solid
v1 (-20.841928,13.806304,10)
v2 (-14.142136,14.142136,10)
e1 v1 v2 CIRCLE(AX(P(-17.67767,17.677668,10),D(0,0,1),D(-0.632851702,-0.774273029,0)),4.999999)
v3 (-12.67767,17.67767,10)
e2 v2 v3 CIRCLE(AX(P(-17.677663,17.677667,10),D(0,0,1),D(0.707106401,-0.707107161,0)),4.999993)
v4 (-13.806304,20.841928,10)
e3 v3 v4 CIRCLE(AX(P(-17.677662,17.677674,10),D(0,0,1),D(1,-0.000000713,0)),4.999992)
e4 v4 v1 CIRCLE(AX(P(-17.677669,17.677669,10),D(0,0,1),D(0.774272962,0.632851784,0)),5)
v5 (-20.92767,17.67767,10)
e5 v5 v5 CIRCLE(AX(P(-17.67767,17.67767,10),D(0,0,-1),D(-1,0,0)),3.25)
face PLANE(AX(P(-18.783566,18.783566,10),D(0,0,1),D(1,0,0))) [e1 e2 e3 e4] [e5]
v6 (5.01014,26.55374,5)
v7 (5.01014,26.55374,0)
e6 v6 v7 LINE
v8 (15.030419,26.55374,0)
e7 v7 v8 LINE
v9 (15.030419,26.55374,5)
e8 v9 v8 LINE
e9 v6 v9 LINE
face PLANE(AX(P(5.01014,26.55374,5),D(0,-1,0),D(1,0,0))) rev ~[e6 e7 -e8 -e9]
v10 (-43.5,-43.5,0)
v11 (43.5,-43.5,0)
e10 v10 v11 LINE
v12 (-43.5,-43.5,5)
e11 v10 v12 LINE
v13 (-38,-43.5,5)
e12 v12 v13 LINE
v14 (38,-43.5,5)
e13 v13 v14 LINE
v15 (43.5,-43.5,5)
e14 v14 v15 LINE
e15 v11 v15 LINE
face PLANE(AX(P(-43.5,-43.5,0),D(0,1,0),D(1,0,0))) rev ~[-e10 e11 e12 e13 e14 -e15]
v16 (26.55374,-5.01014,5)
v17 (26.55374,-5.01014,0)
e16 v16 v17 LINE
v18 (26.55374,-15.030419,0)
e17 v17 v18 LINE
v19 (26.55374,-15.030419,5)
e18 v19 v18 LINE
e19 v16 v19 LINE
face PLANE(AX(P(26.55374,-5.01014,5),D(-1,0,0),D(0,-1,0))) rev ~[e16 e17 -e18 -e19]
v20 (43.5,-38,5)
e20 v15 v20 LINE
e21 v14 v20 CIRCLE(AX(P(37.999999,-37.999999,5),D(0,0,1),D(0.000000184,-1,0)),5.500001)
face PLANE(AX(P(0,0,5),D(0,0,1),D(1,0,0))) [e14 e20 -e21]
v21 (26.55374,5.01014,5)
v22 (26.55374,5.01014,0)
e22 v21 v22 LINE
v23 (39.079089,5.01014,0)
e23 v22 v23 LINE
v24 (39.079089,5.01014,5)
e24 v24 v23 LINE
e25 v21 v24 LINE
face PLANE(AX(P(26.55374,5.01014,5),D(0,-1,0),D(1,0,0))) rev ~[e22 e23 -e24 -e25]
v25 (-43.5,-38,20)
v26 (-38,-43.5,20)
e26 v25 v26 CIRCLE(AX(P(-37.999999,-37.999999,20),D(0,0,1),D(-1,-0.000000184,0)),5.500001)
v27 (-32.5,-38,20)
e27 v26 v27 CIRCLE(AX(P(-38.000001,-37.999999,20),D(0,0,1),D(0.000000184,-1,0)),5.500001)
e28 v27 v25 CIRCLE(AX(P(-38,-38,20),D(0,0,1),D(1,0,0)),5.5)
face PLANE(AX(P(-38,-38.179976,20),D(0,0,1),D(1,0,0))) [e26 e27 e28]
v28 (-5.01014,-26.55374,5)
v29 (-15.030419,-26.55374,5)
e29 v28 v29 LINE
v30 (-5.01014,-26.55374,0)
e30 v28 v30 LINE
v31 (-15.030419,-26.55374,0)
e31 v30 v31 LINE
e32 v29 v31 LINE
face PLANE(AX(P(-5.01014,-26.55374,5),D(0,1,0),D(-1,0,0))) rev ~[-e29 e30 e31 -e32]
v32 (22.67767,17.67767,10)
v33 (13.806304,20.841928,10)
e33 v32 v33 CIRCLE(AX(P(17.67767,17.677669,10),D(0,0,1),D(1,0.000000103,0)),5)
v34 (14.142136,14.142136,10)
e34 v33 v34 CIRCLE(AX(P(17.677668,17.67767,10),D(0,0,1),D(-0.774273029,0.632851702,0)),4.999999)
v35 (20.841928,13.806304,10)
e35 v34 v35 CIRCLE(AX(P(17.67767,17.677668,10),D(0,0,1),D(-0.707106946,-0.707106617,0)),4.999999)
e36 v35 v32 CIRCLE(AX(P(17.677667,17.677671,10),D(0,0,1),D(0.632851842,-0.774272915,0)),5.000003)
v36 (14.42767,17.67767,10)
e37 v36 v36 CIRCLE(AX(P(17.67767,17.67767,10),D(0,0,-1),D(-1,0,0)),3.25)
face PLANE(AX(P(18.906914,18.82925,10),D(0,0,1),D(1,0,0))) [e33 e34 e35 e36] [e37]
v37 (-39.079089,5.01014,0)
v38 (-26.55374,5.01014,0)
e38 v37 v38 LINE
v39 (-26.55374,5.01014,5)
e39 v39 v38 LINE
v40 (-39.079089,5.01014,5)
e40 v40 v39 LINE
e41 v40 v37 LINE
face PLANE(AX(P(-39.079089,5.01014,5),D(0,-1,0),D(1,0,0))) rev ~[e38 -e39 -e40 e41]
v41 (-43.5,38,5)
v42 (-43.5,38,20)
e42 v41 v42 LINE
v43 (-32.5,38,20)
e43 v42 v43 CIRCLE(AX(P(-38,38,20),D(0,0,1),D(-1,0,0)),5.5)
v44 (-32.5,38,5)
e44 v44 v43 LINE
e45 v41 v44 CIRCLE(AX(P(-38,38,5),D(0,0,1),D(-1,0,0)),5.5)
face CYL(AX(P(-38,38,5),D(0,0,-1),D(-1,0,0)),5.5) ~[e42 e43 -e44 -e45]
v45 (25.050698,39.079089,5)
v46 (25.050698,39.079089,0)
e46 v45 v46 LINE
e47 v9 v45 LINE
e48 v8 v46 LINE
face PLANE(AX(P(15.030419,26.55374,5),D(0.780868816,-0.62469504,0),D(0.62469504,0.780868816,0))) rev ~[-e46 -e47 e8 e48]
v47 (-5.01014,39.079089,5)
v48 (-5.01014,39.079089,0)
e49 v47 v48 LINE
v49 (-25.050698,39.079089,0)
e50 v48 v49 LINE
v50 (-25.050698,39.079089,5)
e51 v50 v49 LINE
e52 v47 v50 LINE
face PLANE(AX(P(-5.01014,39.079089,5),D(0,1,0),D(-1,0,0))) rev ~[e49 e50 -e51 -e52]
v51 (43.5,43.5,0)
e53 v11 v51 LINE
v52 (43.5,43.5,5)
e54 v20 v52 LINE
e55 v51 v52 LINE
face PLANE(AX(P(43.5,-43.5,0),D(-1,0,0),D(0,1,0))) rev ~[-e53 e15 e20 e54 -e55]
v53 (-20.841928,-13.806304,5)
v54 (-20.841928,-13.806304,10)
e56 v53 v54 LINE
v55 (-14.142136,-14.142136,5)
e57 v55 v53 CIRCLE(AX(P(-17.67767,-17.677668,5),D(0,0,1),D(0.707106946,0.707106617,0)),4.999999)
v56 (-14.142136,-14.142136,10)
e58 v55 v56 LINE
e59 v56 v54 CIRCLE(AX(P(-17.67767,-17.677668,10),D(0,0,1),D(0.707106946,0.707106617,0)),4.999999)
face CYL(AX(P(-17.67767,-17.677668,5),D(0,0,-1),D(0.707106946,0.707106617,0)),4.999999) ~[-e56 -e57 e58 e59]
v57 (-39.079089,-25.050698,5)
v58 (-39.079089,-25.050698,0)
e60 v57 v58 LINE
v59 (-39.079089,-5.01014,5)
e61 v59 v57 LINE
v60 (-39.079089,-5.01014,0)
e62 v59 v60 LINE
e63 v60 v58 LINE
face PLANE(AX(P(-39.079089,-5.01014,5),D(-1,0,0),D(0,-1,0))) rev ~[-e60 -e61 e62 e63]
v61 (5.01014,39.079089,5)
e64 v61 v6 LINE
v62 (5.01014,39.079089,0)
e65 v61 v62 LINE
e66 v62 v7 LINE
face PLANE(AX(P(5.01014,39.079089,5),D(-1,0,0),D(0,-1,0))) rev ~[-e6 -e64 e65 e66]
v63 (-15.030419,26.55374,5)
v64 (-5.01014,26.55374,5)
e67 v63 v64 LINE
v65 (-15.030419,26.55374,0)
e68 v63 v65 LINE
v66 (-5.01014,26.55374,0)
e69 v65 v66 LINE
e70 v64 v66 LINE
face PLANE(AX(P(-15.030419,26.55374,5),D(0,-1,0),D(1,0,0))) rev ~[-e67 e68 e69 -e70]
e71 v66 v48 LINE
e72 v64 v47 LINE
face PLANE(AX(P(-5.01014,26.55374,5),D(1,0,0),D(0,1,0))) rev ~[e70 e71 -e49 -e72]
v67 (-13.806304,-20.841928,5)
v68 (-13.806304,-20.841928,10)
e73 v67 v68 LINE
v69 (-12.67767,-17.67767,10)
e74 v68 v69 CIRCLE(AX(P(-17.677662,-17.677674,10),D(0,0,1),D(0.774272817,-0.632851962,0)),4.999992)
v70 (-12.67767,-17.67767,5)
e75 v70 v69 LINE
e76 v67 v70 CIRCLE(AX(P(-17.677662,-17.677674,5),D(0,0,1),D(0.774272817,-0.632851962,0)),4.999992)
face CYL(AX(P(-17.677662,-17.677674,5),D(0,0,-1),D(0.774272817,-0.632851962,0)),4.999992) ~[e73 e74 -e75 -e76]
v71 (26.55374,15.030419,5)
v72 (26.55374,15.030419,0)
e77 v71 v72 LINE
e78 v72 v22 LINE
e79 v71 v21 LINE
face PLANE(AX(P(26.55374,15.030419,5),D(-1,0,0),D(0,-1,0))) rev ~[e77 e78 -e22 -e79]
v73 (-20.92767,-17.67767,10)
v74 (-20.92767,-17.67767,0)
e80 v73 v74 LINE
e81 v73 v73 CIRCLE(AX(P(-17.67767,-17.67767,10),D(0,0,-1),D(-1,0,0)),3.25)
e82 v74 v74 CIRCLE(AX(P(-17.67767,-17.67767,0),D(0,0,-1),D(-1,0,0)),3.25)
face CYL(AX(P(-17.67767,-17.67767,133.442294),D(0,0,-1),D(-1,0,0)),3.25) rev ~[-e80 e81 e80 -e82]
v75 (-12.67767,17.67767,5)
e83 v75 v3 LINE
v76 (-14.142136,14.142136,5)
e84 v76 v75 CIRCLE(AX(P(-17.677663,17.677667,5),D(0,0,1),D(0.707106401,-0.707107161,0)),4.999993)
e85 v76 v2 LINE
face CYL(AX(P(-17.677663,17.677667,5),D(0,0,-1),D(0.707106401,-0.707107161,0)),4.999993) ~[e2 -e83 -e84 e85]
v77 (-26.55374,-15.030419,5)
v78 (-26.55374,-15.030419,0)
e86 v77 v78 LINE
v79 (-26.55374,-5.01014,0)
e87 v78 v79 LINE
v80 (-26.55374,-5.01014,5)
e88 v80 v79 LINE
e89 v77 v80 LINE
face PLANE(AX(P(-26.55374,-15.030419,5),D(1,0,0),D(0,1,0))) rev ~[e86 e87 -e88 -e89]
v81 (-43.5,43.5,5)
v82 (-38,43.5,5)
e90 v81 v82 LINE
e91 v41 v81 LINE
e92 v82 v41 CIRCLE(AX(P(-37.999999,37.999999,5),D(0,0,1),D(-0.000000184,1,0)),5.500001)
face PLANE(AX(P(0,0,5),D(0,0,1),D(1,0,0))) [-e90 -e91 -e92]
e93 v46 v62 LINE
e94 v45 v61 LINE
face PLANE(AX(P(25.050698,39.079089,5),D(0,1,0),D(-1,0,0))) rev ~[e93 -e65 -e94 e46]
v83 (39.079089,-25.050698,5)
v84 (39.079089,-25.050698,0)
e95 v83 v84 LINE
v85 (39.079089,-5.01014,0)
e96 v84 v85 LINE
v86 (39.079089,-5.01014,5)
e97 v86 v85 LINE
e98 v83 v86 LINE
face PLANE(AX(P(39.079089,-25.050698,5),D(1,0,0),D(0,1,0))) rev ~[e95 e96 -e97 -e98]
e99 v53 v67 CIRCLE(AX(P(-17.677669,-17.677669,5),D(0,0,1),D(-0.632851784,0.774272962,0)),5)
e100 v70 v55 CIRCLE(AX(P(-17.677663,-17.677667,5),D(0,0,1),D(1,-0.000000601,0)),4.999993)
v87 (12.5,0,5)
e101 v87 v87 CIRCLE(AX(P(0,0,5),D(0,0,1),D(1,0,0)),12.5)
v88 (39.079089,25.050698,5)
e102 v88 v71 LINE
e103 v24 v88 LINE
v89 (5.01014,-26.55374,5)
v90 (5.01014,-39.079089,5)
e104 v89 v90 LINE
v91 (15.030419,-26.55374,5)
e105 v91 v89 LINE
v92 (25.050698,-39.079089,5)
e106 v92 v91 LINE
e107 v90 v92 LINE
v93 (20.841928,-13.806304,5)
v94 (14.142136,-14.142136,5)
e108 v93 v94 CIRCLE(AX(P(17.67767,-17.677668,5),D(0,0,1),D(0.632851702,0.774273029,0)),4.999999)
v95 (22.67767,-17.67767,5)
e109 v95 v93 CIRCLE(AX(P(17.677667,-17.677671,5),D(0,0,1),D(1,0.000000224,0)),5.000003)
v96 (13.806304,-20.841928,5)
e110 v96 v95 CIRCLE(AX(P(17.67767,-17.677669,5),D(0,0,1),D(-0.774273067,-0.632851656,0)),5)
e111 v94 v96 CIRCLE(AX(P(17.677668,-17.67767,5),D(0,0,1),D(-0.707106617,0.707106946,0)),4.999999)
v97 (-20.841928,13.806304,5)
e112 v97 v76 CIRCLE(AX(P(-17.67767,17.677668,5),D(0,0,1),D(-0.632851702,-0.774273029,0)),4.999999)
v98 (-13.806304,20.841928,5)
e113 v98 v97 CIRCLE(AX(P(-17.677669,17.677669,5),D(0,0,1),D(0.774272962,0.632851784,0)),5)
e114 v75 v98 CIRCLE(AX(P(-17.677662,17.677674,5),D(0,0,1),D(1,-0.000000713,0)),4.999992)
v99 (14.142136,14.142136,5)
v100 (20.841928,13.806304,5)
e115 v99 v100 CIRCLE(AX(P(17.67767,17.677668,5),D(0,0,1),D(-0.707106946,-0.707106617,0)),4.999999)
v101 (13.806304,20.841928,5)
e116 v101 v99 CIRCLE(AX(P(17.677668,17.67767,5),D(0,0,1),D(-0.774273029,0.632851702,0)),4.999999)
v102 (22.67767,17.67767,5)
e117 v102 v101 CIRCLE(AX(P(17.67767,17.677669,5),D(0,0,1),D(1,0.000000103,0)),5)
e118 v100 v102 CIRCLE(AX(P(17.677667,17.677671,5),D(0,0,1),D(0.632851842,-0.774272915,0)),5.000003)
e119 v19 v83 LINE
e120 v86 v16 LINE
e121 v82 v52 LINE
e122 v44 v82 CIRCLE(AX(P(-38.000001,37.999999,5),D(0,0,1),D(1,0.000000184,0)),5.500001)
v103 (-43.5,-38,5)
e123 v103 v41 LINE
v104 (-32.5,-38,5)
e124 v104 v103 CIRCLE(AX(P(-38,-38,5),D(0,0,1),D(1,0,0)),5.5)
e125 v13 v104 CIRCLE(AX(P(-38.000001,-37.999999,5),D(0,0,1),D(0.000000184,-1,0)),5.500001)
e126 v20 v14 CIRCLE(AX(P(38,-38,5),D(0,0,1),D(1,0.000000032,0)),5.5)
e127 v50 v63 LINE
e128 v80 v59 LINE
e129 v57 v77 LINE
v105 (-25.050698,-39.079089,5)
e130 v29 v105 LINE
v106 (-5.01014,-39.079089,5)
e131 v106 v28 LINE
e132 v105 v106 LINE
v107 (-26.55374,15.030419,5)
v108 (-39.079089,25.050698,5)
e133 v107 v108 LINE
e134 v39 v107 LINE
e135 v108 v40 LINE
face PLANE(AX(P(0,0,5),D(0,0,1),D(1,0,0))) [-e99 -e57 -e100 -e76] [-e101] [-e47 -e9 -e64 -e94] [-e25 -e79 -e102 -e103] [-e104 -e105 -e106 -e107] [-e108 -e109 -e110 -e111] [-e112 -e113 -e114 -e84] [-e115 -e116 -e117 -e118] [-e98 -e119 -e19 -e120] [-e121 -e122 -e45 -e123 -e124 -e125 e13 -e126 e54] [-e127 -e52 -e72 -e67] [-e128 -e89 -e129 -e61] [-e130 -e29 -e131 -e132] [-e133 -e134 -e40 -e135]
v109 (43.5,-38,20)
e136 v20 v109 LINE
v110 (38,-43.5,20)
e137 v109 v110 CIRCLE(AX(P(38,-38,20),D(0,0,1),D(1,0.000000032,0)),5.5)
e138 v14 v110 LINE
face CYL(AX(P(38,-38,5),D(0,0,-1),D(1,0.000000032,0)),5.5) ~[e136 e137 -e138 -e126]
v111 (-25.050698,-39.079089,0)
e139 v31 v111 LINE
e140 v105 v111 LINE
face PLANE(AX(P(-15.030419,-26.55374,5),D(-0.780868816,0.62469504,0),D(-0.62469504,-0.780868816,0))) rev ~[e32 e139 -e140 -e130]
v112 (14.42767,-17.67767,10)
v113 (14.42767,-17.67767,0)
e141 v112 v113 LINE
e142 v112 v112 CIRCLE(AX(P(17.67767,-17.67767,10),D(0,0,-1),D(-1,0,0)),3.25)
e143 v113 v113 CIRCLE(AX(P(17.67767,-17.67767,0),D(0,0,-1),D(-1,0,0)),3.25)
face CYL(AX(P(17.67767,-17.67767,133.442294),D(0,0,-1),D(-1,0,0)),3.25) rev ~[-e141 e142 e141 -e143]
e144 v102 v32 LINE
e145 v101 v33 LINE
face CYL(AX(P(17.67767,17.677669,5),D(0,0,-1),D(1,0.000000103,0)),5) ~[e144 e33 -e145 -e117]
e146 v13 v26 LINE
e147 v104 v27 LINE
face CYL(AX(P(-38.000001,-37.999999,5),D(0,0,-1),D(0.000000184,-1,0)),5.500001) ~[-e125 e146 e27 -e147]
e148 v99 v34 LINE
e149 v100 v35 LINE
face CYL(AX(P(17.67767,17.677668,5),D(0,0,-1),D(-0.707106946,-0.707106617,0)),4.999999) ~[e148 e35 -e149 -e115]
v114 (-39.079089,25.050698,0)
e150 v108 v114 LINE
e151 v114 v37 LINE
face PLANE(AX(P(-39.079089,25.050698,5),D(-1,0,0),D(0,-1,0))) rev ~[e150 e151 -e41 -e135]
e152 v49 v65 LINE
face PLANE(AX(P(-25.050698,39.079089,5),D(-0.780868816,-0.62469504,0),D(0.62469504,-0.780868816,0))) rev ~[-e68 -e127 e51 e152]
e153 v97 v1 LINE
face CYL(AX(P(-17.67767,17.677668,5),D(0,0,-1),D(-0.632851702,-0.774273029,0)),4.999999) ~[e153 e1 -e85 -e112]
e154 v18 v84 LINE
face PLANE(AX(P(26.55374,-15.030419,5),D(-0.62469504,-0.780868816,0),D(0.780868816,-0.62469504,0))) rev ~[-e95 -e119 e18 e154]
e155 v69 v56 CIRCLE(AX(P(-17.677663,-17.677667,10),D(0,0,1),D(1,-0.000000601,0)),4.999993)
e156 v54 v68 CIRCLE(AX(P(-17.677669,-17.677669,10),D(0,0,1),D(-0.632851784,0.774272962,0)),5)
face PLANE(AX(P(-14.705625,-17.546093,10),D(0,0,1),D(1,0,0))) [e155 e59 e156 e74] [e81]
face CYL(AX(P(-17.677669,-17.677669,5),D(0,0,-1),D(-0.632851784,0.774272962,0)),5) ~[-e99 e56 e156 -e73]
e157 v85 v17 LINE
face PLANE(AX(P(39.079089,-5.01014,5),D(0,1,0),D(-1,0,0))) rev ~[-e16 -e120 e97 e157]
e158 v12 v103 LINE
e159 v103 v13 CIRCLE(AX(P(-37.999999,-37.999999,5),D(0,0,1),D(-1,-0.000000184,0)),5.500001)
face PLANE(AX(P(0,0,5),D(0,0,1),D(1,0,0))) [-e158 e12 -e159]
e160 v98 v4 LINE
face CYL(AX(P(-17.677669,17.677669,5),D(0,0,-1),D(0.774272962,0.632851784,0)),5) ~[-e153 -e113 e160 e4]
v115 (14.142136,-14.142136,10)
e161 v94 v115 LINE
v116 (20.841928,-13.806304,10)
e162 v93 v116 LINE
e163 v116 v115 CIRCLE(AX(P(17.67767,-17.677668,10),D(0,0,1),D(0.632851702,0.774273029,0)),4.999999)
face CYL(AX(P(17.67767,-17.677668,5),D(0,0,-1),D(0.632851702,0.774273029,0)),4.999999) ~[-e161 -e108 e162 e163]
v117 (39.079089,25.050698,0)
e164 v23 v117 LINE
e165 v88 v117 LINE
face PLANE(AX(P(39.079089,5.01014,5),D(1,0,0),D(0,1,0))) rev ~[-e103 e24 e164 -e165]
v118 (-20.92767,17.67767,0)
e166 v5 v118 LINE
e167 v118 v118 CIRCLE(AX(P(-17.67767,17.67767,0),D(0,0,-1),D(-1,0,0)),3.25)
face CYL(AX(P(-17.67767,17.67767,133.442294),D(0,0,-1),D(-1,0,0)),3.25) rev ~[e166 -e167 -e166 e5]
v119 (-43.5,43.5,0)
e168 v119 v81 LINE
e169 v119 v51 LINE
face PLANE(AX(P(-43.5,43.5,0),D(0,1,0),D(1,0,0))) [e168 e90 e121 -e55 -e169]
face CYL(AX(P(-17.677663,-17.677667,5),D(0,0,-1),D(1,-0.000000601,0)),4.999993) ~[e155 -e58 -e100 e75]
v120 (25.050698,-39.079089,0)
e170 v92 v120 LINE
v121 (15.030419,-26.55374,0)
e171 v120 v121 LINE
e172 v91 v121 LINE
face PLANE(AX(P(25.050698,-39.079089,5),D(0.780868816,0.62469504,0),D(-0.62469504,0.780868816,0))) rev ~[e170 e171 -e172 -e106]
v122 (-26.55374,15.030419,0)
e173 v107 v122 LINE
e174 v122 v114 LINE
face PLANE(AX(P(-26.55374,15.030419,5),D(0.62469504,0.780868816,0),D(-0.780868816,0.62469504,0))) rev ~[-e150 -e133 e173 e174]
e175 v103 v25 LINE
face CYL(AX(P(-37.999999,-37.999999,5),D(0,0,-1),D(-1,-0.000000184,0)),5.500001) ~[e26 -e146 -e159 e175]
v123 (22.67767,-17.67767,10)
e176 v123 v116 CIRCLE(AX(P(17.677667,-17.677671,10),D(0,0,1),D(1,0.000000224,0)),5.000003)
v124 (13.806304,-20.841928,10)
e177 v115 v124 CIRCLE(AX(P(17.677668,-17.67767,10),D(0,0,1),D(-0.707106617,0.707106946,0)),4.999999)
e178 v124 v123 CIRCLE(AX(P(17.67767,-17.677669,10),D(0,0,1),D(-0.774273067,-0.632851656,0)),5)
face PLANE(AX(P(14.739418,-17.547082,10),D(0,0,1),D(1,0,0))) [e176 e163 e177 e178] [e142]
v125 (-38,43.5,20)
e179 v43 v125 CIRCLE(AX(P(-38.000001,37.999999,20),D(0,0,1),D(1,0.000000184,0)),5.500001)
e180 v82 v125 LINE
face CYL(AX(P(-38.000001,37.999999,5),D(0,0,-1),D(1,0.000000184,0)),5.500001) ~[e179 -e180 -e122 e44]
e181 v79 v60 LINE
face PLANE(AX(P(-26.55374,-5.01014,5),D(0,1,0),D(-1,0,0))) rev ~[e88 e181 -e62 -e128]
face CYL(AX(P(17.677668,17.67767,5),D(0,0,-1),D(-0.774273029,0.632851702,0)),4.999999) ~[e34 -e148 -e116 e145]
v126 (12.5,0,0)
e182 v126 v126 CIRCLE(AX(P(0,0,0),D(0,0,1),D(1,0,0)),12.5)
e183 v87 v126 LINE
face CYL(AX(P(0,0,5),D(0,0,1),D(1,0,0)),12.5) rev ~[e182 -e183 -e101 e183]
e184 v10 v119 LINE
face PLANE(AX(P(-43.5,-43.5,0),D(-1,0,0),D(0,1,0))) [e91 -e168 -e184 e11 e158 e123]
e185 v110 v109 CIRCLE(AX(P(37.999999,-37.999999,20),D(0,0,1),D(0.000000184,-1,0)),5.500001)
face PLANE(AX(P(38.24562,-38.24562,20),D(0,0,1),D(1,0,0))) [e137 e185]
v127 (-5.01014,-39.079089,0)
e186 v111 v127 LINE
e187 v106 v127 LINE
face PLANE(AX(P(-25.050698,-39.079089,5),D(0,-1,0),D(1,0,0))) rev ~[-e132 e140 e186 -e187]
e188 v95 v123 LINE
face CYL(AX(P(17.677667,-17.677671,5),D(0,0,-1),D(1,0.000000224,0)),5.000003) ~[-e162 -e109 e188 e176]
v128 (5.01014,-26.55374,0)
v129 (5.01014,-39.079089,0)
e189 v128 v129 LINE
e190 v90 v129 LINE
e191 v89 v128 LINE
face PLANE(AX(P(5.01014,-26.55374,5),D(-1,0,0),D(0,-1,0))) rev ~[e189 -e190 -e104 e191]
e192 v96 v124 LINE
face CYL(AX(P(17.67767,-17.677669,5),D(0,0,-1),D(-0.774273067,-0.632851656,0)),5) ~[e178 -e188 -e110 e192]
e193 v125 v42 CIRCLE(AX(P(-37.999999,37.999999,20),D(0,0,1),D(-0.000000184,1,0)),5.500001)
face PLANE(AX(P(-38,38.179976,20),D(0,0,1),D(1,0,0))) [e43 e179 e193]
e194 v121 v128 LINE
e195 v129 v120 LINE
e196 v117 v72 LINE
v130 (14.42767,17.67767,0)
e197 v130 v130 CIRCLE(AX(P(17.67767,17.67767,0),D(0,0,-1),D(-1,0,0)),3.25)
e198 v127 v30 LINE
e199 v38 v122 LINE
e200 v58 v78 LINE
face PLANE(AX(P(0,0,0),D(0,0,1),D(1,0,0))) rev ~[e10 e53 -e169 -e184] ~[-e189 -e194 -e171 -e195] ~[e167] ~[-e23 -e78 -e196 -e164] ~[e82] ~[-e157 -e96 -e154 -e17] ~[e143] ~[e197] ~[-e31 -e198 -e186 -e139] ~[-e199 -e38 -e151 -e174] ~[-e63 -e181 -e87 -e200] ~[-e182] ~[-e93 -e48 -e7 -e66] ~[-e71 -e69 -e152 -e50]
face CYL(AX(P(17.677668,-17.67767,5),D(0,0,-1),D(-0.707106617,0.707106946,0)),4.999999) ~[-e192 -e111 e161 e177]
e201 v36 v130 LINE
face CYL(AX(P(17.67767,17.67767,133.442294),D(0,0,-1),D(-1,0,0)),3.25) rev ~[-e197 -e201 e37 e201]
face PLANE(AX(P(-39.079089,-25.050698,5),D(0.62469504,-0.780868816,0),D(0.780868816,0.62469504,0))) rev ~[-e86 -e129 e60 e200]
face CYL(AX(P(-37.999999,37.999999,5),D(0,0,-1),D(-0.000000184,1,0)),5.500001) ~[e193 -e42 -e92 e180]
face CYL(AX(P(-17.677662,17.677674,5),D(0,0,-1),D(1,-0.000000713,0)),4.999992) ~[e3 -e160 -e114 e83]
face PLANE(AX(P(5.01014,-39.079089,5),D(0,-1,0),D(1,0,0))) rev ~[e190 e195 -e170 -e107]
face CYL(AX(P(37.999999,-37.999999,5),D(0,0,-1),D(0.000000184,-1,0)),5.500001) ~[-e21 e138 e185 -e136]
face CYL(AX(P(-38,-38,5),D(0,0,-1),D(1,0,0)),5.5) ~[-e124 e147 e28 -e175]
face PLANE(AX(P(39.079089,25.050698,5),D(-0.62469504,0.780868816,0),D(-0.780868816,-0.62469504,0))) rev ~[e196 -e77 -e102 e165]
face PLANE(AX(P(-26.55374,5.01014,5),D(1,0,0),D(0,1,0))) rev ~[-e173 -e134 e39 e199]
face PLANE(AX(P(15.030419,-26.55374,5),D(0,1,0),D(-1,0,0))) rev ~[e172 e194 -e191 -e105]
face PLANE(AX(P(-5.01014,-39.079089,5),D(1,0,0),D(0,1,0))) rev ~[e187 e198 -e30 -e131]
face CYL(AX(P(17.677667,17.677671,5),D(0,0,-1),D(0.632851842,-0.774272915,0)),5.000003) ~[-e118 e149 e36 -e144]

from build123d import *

# Parameters (mm, degrees)
F0_W      = 87
F0_H      = 87
F1_DEPTH  = 5
F3_DEPTH  = 5
F6_D      = 6.5
F8_DEPTH  = 15
F9_R      = 12.5
F10_DEPTH = 5


with BuildPart() as f1:
    # F0 (on Top) → F1 (new body)
    with BuildSketch(Plane.XY):
        Rectangle(F0_W, F0_H)
    extrude(amount=F1_DEPTH)

    # F2 (on face) → F3 (join)
    with BuildSketch(Plane.XY.offset(5)):
        with BuildLine():
            ThreePointArc((-17.67767, 17.67767), (-15.821292, 19.356826), (-13.806304, 20.841928))
            ThreePointArc((-13.806304, 20.841928), (-21.213203, 21.213203), (-20.841928, 13.806304))
            ThreePointArc((-20.841928, 13.806304), (-19.356826, 15.821292), (-17.67767, 17.67767))
        make_face()
        with BuildLine():
            ThreePointArc((-20.841928, 13.806304), (-17.427356, 12.683939), (-14.142136, 14.142136))
            Line((-14.142136, 14.142136), (-17.67767, 17.67767))
            ThreePointArc((-17.67767, 17.67767), (-19.356826, 15.821292), (-20.841928, 13.806304))
        make_face()
        with BuildLine():
            ThreePointArc((-12.67767, 17.67767), (-12.968273, 19.357428), (-13.806304, 20.841928))
            ThreePointArc((-13.806304, 20.841928), (-15.821292, 19.356826), (-17.67767, 17.67767))
            Line((-17.67767, 17.67767), (-14.142136, 14.142136))
            ThreePointArc((-14.142136, 14.142136), (-13.058272, 15.764252), (-12.67767, 17.67767))
        make_face()
        with BuildLine():
            ThreePointArc((-12.67767, -17.67767), (-13.058272, -15.764252), (-14.142136, -14.142136))
            Line((-14.142136, -14.142136), (-17.67767, -17.67767))
            ThreePointArc((-17.67767, -17.67767), (-15.821292, -19.356826), (-13.806304, -20.841928))
            ThreePointArc((-13.806304, -20.841928), (-12.968273, -19.357428), (-12.67767, -17.67767))
        make_face()
        with BuildLine():
            Line((-17.67767, -17.67767), (-14.142136, -14.142136))
            ThreePointArc((-14.142136, -14.142136), (-17.427356, -12.683939), (-20.841928, -13.806304))
            ThreePointArc((-20.841928, -13.806304), (-19.356826, -15.821292), (-17.67767, -17.67767))
        make_face()
        with BuildLine():
            ThreePointArc((-20.841928, -13.806304), (-21.213203, -21.213203), (-13.806304, -20.841928))
            ThreePointArc((-13.806304, -20.841928), (-15.821292, -19.356826), (-17.67767, -17.67767))
            ThreePointArc((-17.67767, -17.67767), (-19.356826, -15.821292), (-20.841928, -13.806304))
        make_face()
        with BuildLine():
            ThreePointArc((13.806304, -20.841928), (15.821292, -19.356826), (17.67767, -17.67767))
            Line((17.67767, -17.67767), (14.142136, -14.142136))
            ThreePointArc((14.142136, -14.142136), (12.683939, -17.427356), (13.806304, -20.841928))
        make_face()
        with BuildLine():
            ThreePointArc((17.67767, -17.67767), (19.356826, -15.821292), (20.841928, -13.806304))
            ThreePointArc((20.841928, -13.806304), (17.427356, -12.683939), (14.142136, -14.142136))
            Line((14.142136, -14.142136), (17.67767, -17.67767))
        make_face()
        with BuildLine():
            ThreePointArc((22.67767, -17.67767), (22.195484, -15.535392), (20.841928, -13.806304))
            ThreePointArc((20.841928, -13.806304), (19.356826, -15.821292), (17.67767, -17.67767))
            ThreePointArc((17.67767, -17.67767), (15.821292, -19.356826), (13.806304, -20.841928))
            ThreePointArc((13.806304, -20.841928), (19.357428, -22.387066), (22.67767, -17.67767))
        make_face()
        with BuildLine():
            ThreePointArc((17.67767, 17.67767), (19.356826, 15.821292), (20.841928, 13.806304))
            ThreePointArc((20.841928, 13.806304), (22.195484, 15.535392), (22.67767, 17.67767))
            ThreePointArc((22.67767, 17.67767), (19.357428, 22.387066), (13.806304, 20.841928))
            ThreePointArc((13.806304, 20.841928), (15.821292, 19.356826), (17.67767, 17.67767))
        make_face()
        with BuildLine():
            ThreePointArc((14.142136, 14.142136), (17.427356, 12.683939), (20.841928, 13.806304))
            ThreePointArc((20.841928, 13.806304), (19.356826, 15.821292), (17.67767, 17.67767))
            Line((17.67767, 17.67767), (14.142136, 14.142136))
        make_face()
        with BuildLine():
            Line((14.142136, 14.142136), (17.67767, 17.67767))
            ThreePointArc((17.67767, 17.67767), (15.821292, 19.356826), (13.806304, 20.841928))
            ThreePointArc((13.806304, 20.841928), (12.683939, 17.427356), (14.142136, 14.142136))
        make_face()
    extrude(amount=F3_DEPTH)

    # F6 (through all)
    with Locations(Plane.XY.offset(10)):
        with Locations((-17.67767, 17.67767), (17.67767, 17.67767), (17.67767, -17.67767), (-17.67767, -17.67767)):
            Hole(F6_D / 2)

    # F7 (on face) → F8 (join)
    with BuildSketch(Plane.XY.offset(5)):
        with BuildLine():
            ThreePointArc((-43.5, 38), (-38, 32.5), (-32.5, 38))
            ThreePointArc((-32.5, 38), (-34.110913, 41.889087), (-38, 43.5))
            ThreePointArc((-38, 43.5), (-41.889087, 41.889087), (-43.5, 38))
        make_face()
        with BuildLine():
            ThreePointArc((-32.5, -38), (-38, -32.5), (-43.5, -38))
            ThreePointArc((-43.5, -38), (-41.889087, -41.889087), (-38, -43.5))
            ThreePointArc((-38, -43.5), (-34.110913, -41.889087), (-32.5, -38))
        make_face()
        with BuildLine():
            ThreePointArc((38, -43.5), (41.889087, -41.889087), (43.5, -38))
            ThreePointArc((43.5, -38), (34.110913, -34.110913), (38, -43.5))
        make_face()
    extrude(amount=F8_DEPTH)

    # F9 (on face) → F10 (cut)
    with BuildSketch(Plane.XY.offset(5)):
        Polygon((5.01014, 39.079089), (5.01014, 26.55374), (15.030419, 26.55374), (25.050698, 39.079089), align=None)
        Polygon((-5.01014, 39.079089), (-25.050698, 39.079089), (-15.030419, 26.55374), (-5.01014, 26.55374), align=None)
        Polygon((26.55374, 15.030419), (26.55374, 5.01014), (39.079089, 5.01014), (39.079089, 25.050698), align=None)
        Polygon((39.079089, -5.01014), (26.55374, -5.01014), (26.55374, -15.030419), (39.079089, -25.050698), align=None)
        Polygon((-15.030419, -26.55374), (-25.050698, -39.079089), (-5.01014, -39.079089), (-5.01014, -26.55374), align=None)
        Polygon((5.01014, -26.55374), (5.01014, -39.079089), (25.050698, -39.079089), (15.030419, -26.55374), align=None)
        Polygon((-26.55374, 5.01014), (-26.55374, 15.030419), (-39.079089, 25.050698), (-39.079089, 5.01014), align=None)
        Polygon((-26.55374, -5.01014), (-39.079089, -5.01014), (-39.079089, -25.050698), (-26.55374, -15.030419), align=None)
        Circle(F9_R)
    extrude(amount=-F10_DEPTH, mode=Mode.SUBTRACT)


solid = f1.part
